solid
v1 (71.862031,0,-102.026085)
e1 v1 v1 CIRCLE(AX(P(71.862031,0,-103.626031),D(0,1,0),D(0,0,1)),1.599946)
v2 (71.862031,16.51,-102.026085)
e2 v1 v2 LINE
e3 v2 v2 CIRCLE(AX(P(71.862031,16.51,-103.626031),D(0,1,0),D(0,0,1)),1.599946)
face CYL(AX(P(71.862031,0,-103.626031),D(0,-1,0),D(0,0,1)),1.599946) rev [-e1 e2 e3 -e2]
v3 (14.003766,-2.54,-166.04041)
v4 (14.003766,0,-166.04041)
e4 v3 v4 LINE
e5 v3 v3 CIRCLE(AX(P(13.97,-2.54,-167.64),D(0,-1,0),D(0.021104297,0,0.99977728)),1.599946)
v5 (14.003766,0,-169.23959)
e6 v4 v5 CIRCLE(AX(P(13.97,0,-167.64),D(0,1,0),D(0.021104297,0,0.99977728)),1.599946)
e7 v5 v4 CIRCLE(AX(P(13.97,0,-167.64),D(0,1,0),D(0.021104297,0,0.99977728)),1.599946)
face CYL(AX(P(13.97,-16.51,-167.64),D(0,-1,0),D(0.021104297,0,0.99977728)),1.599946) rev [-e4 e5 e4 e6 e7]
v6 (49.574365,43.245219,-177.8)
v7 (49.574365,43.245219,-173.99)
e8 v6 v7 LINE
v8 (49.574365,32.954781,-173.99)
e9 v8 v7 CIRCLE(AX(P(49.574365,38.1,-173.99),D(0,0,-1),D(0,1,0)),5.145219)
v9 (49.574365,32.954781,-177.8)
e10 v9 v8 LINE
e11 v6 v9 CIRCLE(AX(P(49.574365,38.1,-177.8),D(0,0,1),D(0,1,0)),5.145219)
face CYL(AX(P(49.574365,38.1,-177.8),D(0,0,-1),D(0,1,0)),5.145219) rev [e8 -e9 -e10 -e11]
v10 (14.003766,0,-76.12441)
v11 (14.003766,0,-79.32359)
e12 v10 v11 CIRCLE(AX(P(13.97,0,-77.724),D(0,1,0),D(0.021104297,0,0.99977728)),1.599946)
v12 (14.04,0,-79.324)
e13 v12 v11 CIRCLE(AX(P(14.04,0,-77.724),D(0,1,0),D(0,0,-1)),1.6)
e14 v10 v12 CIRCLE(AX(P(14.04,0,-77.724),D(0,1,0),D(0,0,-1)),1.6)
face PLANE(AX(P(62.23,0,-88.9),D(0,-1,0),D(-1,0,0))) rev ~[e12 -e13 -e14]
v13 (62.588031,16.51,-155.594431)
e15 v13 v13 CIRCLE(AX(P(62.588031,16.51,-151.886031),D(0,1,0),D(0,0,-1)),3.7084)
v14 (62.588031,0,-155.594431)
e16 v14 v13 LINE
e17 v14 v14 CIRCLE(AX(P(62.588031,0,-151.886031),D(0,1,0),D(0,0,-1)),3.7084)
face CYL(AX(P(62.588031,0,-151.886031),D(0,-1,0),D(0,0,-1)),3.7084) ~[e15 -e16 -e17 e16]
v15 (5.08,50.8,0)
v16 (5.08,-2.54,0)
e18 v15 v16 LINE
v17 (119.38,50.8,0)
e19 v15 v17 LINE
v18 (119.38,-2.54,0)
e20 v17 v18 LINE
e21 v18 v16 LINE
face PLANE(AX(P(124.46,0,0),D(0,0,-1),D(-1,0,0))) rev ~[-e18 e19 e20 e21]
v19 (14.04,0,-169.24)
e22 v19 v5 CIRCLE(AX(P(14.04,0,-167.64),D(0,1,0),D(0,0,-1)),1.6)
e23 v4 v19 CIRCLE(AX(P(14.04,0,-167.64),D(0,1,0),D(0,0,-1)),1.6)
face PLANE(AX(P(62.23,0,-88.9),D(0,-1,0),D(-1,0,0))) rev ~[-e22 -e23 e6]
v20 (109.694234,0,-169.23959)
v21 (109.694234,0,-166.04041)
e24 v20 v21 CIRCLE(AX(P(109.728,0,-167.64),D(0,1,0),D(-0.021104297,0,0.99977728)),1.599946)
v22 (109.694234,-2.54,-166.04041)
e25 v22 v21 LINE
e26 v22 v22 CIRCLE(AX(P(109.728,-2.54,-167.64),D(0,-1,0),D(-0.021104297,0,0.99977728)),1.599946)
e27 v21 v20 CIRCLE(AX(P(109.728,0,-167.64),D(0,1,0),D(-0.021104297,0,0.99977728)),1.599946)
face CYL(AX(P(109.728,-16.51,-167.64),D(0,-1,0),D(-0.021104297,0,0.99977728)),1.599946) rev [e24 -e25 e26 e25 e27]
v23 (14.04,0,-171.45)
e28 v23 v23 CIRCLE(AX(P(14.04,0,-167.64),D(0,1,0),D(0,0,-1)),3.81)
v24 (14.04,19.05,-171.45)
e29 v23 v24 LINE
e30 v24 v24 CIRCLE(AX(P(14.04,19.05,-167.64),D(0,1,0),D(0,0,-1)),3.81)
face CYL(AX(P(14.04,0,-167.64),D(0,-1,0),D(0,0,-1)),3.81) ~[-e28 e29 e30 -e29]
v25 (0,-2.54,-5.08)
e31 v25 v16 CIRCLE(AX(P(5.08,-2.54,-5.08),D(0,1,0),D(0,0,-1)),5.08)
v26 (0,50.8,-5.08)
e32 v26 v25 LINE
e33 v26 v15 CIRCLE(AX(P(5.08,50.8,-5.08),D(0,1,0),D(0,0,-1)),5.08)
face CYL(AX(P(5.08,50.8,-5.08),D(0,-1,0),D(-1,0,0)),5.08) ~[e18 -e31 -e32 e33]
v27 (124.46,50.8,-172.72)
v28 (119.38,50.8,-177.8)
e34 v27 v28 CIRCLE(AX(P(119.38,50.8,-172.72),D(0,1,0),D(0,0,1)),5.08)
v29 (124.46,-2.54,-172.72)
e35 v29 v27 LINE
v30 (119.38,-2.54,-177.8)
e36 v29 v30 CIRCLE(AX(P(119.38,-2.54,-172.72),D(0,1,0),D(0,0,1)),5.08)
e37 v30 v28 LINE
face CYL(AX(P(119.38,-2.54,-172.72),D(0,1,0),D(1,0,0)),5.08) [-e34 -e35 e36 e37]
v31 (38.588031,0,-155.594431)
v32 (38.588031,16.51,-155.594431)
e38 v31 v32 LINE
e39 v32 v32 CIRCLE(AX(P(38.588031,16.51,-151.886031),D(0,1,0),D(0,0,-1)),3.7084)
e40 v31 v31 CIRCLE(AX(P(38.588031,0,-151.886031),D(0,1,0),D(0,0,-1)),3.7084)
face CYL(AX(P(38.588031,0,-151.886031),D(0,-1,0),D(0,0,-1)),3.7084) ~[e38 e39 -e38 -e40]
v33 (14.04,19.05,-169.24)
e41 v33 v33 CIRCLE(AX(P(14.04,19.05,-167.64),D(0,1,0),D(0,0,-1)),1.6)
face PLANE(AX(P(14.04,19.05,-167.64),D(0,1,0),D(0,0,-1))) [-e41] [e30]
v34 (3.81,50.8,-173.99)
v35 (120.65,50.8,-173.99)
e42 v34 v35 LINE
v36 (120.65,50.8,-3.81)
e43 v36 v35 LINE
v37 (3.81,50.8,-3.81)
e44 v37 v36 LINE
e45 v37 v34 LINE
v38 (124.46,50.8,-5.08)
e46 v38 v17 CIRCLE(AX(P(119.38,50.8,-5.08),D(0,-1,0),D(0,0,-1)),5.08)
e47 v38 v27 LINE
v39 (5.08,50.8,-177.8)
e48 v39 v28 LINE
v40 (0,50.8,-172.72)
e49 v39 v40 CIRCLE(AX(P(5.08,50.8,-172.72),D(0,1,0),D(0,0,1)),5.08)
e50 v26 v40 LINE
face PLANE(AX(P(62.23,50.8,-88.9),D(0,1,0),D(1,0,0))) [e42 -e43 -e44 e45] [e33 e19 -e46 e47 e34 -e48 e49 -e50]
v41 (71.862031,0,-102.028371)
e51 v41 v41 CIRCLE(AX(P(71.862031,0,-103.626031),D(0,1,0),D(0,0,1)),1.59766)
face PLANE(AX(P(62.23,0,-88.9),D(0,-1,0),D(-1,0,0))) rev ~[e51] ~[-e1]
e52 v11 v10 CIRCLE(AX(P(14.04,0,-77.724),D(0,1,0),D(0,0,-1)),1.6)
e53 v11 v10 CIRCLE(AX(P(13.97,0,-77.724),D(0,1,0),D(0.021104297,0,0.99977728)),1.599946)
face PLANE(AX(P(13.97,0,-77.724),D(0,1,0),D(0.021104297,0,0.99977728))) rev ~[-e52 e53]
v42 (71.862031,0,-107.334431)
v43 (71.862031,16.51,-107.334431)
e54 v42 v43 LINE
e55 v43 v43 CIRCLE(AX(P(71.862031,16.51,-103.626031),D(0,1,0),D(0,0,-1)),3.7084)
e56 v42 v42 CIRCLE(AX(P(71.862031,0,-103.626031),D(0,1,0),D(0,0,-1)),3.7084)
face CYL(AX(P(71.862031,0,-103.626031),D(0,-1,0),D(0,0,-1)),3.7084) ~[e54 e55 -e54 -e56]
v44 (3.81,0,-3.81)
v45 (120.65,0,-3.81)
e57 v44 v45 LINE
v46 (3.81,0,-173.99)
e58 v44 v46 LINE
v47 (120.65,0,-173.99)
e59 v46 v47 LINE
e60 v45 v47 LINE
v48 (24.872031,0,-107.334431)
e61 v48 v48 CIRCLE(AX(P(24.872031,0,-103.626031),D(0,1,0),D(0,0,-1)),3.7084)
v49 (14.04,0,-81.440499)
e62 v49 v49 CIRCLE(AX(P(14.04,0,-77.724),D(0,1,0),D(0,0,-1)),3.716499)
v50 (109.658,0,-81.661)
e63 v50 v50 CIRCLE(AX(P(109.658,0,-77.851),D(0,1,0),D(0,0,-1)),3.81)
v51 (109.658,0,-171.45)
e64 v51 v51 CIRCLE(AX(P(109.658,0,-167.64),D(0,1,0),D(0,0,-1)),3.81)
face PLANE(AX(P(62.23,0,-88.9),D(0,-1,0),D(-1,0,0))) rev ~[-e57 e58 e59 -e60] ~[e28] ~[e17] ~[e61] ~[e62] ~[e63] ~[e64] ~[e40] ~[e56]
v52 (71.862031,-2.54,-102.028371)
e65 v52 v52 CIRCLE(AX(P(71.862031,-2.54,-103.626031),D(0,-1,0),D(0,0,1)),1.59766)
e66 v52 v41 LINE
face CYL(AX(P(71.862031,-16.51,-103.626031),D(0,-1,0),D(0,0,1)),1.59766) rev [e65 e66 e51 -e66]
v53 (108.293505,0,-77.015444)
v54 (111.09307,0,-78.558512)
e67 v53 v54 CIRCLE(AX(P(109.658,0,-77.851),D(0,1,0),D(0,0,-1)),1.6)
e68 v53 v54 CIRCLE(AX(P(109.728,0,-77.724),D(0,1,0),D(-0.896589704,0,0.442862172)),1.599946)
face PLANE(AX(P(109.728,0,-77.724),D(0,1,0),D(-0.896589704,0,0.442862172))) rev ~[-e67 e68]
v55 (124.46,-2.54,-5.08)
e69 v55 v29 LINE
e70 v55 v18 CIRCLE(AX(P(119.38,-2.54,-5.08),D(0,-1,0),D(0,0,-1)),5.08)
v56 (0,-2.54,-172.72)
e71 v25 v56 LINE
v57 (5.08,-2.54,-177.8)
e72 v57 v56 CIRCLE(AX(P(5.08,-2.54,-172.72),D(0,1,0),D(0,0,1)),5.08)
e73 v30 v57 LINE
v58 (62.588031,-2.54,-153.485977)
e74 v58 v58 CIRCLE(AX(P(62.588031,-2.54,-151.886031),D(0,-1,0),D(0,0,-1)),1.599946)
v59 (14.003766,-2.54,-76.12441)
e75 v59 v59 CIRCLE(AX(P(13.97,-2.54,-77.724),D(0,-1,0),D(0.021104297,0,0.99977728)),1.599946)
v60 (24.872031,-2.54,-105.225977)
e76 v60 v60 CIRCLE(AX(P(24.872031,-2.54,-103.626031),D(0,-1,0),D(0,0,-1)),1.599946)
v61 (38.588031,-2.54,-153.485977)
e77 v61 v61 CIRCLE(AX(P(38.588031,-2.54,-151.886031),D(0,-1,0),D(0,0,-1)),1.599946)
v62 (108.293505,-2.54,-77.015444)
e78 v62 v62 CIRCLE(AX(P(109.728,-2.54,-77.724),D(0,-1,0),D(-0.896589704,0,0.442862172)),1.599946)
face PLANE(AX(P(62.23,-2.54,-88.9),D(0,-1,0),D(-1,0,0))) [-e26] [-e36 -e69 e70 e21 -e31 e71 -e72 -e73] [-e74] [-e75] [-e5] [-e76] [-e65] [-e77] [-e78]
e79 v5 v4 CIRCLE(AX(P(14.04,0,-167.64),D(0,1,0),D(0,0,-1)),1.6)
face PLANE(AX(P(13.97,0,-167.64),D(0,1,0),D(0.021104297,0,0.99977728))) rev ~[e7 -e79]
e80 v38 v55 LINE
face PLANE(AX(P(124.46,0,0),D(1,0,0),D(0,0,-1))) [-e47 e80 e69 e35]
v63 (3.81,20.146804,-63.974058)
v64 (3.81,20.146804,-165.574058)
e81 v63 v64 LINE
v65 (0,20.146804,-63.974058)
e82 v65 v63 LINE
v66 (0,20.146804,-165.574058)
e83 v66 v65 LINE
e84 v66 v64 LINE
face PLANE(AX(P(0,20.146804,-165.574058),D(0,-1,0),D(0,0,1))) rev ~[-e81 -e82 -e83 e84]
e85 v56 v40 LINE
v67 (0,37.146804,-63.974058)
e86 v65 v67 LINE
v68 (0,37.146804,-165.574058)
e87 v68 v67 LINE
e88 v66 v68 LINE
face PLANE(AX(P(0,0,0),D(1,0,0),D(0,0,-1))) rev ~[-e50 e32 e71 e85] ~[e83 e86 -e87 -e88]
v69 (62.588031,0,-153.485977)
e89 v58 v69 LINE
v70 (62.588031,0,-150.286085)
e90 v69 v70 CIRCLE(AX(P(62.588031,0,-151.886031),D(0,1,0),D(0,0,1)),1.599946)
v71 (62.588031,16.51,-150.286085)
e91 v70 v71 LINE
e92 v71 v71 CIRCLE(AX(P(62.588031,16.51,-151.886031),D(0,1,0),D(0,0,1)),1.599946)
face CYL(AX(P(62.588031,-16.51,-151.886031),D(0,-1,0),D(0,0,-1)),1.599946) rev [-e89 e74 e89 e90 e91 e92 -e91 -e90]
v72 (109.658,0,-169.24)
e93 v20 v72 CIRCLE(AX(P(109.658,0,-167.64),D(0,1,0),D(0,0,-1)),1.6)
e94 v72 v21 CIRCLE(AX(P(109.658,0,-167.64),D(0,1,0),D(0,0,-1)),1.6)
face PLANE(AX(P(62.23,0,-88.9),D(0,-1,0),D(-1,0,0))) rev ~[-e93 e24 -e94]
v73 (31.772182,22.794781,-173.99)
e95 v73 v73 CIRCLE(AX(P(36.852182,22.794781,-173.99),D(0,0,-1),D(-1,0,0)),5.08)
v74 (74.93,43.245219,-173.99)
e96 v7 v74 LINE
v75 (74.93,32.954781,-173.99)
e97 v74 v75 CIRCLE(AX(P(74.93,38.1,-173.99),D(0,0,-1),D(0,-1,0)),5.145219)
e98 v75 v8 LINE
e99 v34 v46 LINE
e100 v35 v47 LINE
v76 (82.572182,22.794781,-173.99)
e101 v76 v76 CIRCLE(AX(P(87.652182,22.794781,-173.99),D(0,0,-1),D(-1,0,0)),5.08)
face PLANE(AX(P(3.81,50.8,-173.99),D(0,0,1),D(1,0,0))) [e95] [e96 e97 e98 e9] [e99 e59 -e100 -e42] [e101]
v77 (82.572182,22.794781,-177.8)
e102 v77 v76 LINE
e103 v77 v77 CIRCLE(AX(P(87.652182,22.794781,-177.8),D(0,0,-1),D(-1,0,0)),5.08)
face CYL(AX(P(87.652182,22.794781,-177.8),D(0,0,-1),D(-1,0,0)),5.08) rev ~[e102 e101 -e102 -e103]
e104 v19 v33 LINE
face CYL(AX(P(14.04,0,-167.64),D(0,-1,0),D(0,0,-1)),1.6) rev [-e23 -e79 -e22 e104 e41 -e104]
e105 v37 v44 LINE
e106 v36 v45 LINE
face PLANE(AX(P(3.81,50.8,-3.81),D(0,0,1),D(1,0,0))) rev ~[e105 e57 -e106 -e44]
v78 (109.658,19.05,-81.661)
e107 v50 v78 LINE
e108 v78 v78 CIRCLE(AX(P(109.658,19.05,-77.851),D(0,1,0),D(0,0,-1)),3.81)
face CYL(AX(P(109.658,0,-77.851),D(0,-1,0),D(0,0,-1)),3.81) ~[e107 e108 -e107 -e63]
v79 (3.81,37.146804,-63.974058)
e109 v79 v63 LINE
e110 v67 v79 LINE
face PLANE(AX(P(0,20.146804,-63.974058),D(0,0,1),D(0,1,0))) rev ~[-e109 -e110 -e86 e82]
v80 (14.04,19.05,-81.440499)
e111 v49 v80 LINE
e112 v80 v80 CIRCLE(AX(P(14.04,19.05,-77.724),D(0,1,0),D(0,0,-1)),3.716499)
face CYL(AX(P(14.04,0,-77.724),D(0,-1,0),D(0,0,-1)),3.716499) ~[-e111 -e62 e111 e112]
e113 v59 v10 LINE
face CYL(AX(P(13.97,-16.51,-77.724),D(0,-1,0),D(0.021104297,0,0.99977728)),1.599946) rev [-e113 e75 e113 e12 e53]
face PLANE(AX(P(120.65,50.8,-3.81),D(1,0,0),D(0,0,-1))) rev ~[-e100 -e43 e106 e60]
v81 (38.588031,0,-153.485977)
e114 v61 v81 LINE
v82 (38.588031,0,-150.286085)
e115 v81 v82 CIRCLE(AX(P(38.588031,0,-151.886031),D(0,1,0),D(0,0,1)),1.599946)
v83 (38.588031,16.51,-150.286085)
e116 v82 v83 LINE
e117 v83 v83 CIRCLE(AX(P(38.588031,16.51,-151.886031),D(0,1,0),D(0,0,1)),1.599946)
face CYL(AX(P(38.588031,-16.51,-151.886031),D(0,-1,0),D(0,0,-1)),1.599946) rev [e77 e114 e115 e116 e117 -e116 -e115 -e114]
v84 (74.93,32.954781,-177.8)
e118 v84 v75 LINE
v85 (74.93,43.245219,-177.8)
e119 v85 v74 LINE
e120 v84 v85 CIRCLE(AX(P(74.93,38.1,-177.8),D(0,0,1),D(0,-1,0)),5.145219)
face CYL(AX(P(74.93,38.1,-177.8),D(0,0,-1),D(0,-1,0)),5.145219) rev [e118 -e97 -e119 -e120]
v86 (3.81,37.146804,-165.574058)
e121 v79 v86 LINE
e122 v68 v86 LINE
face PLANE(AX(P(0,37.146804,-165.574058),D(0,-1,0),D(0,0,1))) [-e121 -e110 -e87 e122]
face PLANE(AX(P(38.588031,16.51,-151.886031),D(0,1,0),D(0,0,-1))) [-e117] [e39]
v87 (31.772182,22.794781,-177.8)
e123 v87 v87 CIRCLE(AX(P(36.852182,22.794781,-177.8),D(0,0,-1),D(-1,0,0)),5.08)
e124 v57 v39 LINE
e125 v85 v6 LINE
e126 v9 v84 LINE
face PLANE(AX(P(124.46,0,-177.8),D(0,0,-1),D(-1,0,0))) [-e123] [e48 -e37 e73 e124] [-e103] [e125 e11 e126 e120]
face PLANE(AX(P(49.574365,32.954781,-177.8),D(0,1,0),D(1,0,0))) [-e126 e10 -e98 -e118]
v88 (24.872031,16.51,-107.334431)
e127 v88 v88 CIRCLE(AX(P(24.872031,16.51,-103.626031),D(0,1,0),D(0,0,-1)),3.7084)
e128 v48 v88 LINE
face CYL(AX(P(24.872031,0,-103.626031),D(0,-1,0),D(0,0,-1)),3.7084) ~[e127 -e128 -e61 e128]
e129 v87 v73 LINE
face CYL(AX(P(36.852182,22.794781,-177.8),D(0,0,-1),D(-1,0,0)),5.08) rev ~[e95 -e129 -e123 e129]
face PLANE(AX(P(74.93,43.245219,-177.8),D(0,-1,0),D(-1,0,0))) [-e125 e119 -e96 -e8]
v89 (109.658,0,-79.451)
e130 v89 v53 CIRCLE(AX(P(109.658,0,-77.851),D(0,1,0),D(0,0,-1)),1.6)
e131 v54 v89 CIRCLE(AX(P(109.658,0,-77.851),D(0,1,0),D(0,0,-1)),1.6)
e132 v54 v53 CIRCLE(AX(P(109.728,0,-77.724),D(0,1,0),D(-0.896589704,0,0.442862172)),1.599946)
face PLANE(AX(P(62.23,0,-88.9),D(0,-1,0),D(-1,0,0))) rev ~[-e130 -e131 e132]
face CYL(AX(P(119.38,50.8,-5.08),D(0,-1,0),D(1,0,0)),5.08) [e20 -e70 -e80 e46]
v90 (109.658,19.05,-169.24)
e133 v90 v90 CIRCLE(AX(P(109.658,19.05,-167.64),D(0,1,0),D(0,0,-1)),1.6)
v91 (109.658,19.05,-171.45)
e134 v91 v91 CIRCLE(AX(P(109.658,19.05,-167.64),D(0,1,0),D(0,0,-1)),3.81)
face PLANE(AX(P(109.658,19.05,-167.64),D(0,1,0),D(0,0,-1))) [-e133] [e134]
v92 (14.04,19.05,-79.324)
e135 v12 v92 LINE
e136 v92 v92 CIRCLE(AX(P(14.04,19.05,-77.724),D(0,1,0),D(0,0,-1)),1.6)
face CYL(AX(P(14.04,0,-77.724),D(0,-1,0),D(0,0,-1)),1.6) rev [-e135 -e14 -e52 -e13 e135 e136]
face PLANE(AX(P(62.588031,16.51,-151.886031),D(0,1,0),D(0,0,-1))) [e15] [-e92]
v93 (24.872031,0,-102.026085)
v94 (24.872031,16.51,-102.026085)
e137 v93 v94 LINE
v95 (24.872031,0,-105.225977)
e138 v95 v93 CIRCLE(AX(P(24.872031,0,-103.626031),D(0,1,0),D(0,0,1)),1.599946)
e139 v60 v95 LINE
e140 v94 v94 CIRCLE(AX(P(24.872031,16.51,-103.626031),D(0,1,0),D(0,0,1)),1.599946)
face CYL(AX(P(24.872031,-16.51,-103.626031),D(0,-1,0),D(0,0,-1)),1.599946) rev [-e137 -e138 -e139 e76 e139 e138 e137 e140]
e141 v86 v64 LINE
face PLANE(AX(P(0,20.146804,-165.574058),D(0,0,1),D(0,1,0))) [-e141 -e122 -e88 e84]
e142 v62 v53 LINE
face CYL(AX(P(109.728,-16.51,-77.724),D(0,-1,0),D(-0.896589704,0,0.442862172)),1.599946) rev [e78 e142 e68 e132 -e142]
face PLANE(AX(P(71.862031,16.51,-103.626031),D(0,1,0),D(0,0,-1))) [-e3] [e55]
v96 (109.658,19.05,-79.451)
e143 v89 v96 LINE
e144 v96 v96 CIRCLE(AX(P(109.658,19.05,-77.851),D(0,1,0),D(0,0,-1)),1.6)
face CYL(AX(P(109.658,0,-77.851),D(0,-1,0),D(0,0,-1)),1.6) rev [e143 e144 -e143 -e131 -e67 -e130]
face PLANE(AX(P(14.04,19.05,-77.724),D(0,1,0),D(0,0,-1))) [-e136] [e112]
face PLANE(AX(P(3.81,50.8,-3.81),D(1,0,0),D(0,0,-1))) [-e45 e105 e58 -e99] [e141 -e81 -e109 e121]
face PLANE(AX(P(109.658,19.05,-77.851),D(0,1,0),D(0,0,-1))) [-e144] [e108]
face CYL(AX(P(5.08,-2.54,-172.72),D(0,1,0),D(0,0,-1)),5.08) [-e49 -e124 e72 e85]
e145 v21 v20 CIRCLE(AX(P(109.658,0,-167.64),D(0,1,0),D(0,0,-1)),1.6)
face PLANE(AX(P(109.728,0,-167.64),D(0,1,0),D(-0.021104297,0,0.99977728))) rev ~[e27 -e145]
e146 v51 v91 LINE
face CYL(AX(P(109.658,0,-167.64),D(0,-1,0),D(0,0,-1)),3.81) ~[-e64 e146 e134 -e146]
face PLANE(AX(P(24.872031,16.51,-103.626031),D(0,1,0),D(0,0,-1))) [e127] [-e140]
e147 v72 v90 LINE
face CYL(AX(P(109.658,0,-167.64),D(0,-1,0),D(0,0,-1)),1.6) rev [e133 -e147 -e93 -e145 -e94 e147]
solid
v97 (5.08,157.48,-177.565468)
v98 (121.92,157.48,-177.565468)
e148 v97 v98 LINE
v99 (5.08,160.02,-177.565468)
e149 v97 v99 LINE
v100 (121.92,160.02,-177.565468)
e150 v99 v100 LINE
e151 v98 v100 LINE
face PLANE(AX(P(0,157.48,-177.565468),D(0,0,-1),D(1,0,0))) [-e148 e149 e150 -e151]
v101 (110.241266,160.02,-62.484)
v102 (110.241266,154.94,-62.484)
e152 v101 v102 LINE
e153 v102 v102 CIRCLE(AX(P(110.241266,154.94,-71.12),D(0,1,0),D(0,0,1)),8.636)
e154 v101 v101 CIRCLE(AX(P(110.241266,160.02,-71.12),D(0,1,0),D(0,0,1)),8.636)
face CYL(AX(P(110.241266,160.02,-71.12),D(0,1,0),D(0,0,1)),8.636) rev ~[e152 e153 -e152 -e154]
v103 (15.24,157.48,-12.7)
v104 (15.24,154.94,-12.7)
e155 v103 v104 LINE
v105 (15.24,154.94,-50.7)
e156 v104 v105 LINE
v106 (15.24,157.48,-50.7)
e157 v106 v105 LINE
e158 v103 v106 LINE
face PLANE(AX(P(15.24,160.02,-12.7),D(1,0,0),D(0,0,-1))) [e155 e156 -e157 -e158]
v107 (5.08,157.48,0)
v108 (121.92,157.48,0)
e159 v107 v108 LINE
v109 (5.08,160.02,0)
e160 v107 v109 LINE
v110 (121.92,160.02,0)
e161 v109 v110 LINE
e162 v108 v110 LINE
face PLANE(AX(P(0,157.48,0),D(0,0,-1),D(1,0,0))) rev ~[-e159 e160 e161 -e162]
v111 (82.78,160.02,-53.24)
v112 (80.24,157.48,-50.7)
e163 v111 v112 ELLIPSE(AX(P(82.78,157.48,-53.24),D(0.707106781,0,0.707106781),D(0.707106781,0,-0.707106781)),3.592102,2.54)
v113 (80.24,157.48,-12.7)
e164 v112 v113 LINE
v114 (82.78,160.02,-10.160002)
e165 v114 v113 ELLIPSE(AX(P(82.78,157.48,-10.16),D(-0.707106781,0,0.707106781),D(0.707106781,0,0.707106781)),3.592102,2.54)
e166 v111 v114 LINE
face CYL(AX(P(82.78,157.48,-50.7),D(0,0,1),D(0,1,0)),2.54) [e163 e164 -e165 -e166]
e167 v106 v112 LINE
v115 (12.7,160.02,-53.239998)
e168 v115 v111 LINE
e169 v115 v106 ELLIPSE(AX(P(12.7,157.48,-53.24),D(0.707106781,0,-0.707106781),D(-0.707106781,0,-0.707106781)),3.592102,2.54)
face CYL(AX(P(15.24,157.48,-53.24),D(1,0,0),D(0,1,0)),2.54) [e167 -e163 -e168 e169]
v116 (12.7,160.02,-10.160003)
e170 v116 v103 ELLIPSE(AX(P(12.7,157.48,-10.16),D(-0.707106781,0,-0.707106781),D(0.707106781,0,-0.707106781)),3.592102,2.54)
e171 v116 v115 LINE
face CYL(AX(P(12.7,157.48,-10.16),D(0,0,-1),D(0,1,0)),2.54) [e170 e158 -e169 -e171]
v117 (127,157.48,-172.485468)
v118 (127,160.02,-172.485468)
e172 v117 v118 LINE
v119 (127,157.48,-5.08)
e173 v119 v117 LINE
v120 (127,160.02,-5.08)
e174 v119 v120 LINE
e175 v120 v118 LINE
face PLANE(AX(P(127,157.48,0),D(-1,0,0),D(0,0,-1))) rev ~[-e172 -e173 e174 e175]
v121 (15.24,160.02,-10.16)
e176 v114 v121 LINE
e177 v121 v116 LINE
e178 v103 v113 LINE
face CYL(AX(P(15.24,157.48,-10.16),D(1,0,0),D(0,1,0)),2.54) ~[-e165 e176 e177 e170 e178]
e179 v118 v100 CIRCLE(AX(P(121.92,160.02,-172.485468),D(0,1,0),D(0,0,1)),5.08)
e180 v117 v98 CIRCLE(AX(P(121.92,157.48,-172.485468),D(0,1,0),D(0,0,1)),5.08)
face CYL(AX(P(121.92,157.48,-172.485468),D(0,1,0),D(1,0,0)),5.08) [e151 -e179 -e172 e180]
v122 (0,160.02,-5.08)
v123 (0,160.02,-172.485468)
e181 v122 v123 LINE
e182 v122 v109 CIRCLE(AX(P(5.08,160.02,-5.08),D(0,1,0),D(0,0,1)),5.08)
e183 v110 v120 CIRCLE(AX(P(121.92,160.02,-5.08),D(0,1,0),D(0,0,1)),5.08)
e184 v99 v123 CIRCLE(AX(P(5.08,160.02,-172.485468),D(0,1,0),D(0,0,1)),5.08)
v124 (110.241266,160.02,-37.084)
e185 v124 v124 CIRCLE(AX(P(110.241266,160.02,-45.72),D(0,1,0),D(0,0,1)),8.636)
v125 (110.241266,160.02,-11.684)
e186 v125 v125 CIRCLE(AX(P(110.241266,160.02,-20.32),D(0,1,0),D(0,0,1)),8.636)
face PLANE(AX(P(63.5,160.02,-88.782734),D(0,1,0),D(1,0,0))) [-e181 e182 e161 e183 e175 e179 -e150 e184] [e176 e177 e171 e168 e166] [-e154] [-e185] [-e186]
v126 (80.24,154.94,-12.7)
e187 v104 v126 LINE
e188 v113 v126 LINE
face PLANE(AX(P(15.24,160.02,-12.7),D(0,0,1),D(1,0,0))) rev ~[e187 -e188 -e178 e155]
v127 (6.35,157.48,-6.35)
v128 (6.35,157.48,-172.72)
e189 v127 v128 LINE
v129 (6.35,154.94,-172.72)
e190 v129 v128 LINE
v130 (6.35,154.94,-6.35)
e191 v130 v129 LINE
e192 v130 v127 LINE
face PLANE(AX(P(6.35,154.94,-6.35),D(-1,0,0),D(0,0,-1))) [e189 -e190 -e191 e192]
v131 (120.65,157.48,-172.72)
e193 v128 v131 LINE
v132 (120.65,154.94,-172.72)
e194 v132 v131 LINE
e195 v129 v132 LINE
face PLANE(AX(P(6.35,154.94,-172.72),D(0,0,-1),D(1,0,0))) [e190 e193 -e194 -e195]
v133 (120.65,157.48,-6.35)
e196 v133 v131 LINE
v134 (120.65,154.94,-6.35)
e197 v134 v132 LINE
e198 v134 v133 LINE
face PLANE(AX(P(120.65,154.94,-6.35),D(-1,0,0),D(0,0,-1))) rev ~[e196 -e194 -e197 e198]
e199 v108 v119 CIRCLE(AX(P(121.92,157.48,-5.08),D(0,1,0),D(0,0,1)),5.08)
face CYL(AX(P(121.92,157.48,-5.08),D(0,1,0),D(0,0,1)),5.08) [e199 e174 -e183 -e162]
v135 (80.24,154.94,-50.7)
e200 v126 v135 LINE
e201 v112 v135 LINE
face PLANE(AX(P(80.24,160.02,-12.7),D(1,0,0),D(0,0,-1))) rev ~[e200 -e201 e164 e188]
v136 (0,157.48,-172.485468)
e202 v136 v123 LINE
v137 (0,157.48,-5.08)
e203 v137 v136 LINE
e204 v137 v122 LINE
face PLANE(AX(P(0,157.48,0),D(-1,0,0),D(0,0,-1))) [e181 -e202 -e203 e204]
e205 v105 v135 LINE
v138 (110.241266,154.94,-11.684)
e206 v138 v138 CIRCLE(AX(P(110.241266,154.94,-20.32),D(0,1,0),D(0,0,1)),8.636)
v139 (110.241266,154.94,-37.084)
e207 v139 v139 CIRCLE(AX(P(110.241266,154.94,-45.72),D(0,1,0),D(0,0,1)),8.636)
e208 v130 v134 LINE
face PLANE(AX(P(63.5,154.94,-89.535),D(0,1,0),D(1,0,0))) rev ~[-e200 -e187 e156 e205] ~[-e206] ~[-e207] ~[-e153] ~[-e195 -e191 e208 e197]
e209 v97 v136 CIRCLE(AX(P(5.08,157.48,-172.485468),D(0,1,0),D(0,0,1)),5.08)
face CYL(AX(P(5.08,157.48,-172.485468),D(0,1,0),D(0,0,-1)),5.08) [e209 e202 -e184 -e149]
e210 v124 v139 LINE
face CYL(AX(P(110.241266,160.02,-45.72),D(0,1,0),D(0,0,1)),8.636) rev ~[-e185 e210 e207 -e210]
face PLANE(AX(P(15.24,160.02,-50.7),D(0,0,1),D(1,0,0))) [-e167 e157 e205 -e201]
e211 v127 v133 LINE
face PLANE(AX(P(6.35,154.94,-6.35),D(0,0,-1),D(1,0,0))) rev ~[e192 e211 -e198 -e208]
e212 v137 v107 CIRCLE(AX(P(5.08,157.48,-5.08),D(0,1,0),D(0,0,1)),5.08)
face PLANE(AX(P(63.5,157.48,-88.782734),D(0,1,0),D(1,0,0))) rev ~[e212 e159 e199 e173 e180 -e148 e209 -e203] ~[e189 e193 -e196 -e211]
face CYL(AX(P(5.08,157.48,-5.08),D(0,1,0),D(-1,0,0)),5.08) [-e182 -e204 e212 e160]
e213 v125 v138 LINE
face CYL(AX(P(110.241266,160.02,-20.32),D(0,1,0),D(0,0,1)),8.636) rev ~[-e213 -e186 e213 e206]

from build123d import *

# Parameters (mm, degrees)
SKETCH1_W            = 124.46
SKETCH1_H            = 177.8
BOSS_EXTRUDE1_DEPTH  = 50.8
SKETCH2_W            = 116.84
SKETCH2_H            = 170.18
CUT_EXTRUDE1_DEPTH   = 50.8
SKETCH4_W            = 124.46
SKETCH4_H            = 177.8
BOSS_EXTRUDE2_DEPTH  = 2.54
SKETCH5_W            = 114.3
SKETCH5_H            = 166.37
BOSS_EXTRUDE3_DEPTH  = 2.54
SKETCH6_W            = 127
SKETCH6_H            = 177.565468033
BOSS_EXTRUDE4_DEPTH  = 2.54
SKETCH7_R            = 8.636
SKETCH7_W            = 65
SKETCH7_H            = 38
CUT_EXTRUDE2_DEPTH   = 7.62
FILLET1_R            = 5.08
FILLET2_R            = 5.08
FILLET3_R            = 5.08
FILLET4_R            = 5.08
FILLET5_R            = 5.08
FILLET6_R            = 5.08
FILLET7_R            = 5.08
FILLET8_R            = 5.08
CUT_EXTRUDE3_DEPTH   = 10.16
SKETCH10_W           = 101.6
SKETCH10_H           = 17
CUT_EXTRUDE5_DEPTH   = 10.16
FILLET9_R            = 2.54
FILLET10_R           = 2.54
FILLET11_R           = 2.54
FILLET12_R           = 2.54
SKETCH12_R           = 3.716498952
SKETCH12_R_2         = 1.6
SKETCH12_R_3         = 3.81
BOSS_EXTRUDE9_DEPTH  = 19.05
SKETCH31_R           = 3.7084
SKETCH31_R_2         = 1.599946
BOSS_EXTRUDE10_DEPTH = 16.51
CUT_EXTRUDE13_START  = -16.51
SKETCH33_R           = 1.599946
SKETCH33_R_2         = 1.59766
CUT_EXTRUDE13_DEPTH  = 16.51
SKETCH35_R           = 5.08
CUT_EXTRUDE14_DEPTH  = 16.51


with BuildPart() as part:
    # Sketch1 → Boss-Extrude1 (new body)
    with BuildSketch(Plane(origin=(0, 0, 0), x_dir=(1, 0, 0), z_dir=(0, 1, 0))):
        with Locations((62.23, 88.9)):
            Rectangle(SKETCH1_W, SKETCH1_H)
    extrude(amount=BOSS_EXTRUDE1_DEPTH)

    # Sketch2 → Cut-Extrude1 (cut)
    with BuildSketch(Plane(origin=(0, 50.8, 0), x_dir=(1, 0, 0), z_dir=(0, 1, 0))):
        with Locations((62.23, 88.9)):
            Rectangle(SKETCH2_W, SKETCH2_H)
    extrude(amount=-CUT_EXTRUDE1_DEPTH, mode=Mode.SUBTRACT)

    # Sketch4 → Boss-Extrude2 (add)
    with BuildSketch(Plane(origin=(0, 0, 0), x_dir=(-1, 0, 0), z_dir=(0, -1, 0))):
        with Locations((-62.23, 88.9)):
            Rectangle(SKETCH4_W, SKETCH4_H)
    extrude(amount=BOSS_EXTRUDE2_DEPTH)

    # Fillet1
    fillet1_edges = [part.edges().sort_by_distance(p)[0] for p in [
        (124.46, 24.13, 0),
    ]]
    fillet(fillet1_edges, radius=FILLET1_R)

    # Fillet3
    fillet3_edges = [part.edges().sort_by_distance(p)[0] for p in [
        (124.46, 24.13, -177.8),
    ]]
    fillet(fillet3_edges, radius=FILLET3_R)

    # Fillet4
    fillet4_edges = [part.edges().sort_by_distance(p)[0] for p in [
        (0, 24.13, -177.8),
    ]]
    fillet(fillet4_edges, radius=FILLET4_R)

    # Fillet5
    fillet5_edges = [part.edges().sort_by_distance(p)[0] for p in [
        (0, 24.13, 0),
    ]]
    fillet(fillet5_edges, radius=FILLET5_R)

    # Sketch9 → Cut-Extrude3 (cut)
    with BuildSketch(Plane(origin=(0, 0, -177.8), x_dir=(-1, 0, 0), z_dir=(0, 0, -1))):
        with BuildLine():
            Line((-49.574364587, 32.954781393), (-74.93, 32.954781393))
            ThreePointArc((-74.93, 32.954781393), (-80.075218607, 38.1), (-74.93, 43.245218607))
            Line((-74.93, 43.245218607), (-49.574364587, 43.245218607))
            ThreePointArc((-49.574364587, 43.245218607), (-44.42914598, 38.1), (-49.574364587, 32.954781393))
        make_face()
    extrude(amount=-CUT_EXTRUDE3_DEPTH, mode=Mode.SUBTRACT)

    # Sketch10 → Cut-Extrude5 (cut)
    with BuildSketch(Plane.ZY):
        with Locations((-114.774057785, 28.646804291)):
            Rectangle(SKETCH10_W, SKETCH10_H)
    extrude(amount=-CUT_EXTRUDE5_DEPTH, mode=Mode.SUBTRACT)

    # Sketch12 → Boss-Extrude9 (add)
    # profile 1 of 4: a face of its own
    with BuildSketch(Plane(origin=(0, 0, 0), x_dir=(1, 0, 0), z_dir=(0, 1, 0))):
        with Locations(Location((14.04, 77.724, 0), (0, 0, 90))):
            Circle(SKETCH12_R)
        with Locations(Location((14.04, 77.724, 0), (0, 0, 90))):
            Circle(SKETCH12_R_2, mode=Mode.SUBTRACT)
    # profile 2 of 4: a face of its own
    with BuildSketch(Plane(origin=(0, 0, 0), x_dir=(1, 0, 0), z_dir=(0, 1, 0))):
        with Locations(Location((109.658, 77.851, 0), (0, 0, 90))):
            Circle(SKETCH12_R_3)
        with Locations(Location((109.658, 77.851, 0), (0, 0, 90))):
            Circle(SKETCH12_R_2, mode=Mode.SUBTRACT)
    # profile 3 of 4: a face of its own
    with BuildSketch(Plane(origin=(0, 0, 0), x_dir=(1, 0, 0), z_dir=(0, 1, 0))):
        with Locations(Location((109.658, 167.64, 0), (0, 0, 90))):
            Circle(SKETCH12_R_3)
        with Locations(Location((109.658, 167.64, 0), (0, 0, 90))):
            Circle(SKETCH12_R_2, mode=Mode.SUBTRACT)
    # profile 4 of 4: a face of its own
    with BuildSketch(Plane(origin=(0, 0, 0), x_dir=(1, 0, 0), z_dir=(0, 1, 0))):
        with Locations(Location((14.04, 167.64, 0), (0, 0, 90))):
            Circle(SKETCH12_R_3)
        with Locations(Location((14.04, 167.64, 0), (0, 0, 90))):
            Circle(SKETCH12_R_2, mode=Mode.SUBTRACT)
    extrude(amount=BOSS_EXTRUDE9_DEPTH)

    # Sketch31 → Boss-Extrude10 (add)
    # profile 1 of 4: a face of its own
    with BuildSketch(Plane(origin=(0, 0, 0), x_dir=(1, 0, 0), z_dir=(0, 1, 0))):
        with Locations(Location((24.872030931, 103.626030931, 0), (0, 0, 90))):
            Circle(SKETCH31_R)
        with Locations(Location((24.872030931, 103.626030931, 0), (0, 0, 270))):
            Circle(SKETCH31_R_2, mode=Mode.SUBTRACT)
    # profile 2 of 4: a face of its own
    with BuildSketch(Plane(origin=(0, 0, 0), x_dir=(1, 0, 0), z_dir=(0, 1, 0))):
        with Locations(Location((71.862030931, 103.626030931, 0), (0, 0, 90))):
            Circle(SKETCH31_R)
        with Locations(Location((71.862030931, 103.626030931, 0), (0, 0, 270))):
            Circle(SKETCH31_R_2, mode=Mode.SUBTRACT)
    # profile 3 of 4: a face of its own
    with BuildSketch(Plane(origin=(0, 0, 0), x_dir=(1, 0, 0), z_dir=(0, 1, 0))):
        with Locations(Location((38.588030931, 151.886030931, 0), (0, 0, 90))):
            Circle(SKETCH31_R)
        with Locations(Location((38.588030931, 151.886030931, 0), (0, 0, 270))):
            Circle(SKETCH31_R_2, mode=Mode.SUBTRACT)
    # profile 4 of 4: a face of its own
    with BuildSketch(Plane(origin=(0, 0, 0), x_dir=(1, 0, 0), z_dir=(0, 1, 0))):
        with Locations(Location((62.588030931, 151.886030931, 0), (0, 0, 90))):
            Circle(SKETCH31_R)
        with Locations(Location((62.588030931, 151.886030931, 0), (0, 0, 270))):
            Circle(SKETCH31_R_2, mode=Mode.SUBTRACT)
    extrude(amount=BOSS_EXTRUDE10_DEPTH)

    # Sketch33 → Cut-Extrude13 (cut)
    with BuildSketch(Plane(origin=(0, 0, 0), x_dir=(1, 0, 0), z_dir=(0, 1, 0)).offset(CUT_EXTRUDE13_START)):
        with Locations(Location((109.728, 77.724, 0), (0, 0, 206.286642075))):
            Circle(SKETCH33_R)
        with Locations(Location((13.97, 77.724, 0), (0, 0, 271.20927691))):
            Circle(SKETCH33_R)
        with Locations(Location((71.862030931, 103.626030931, 0), (0, 0, 270))):
            Circle(SKETCH33_R_2)
        with Locations(Location((24.872030931, 103.626030931, 0), (0, 0, 90))):
            Circle(SKETCH33_R)
        with Locations(Location((62.588030931, 151.886030931, 0), (0, 0, 90))):
            Circle(SKETCH33_R)
        with Locations(Location((38.588030931, 151.886030931, 0), (0, 0, 90))):
            Circle(SKETCH33_R)
        with Locations(Location((109.728, 167.64, 0), (0, 0, 268.79072309))):
            Circle(SKETCH33_R)
        with Locations(Location((13.97, 167.64, 0), (0, 0, 271.20927691))):
            Circle(SKETCH33_R)
    extrude(amount=CUT_EXTRUDE13_DEPTH, mode=Mode.SUBTRACT)

    # Sketch35 → Cut-Extrude14 (cut)
    with BuildSketch(Plane(origin=(0, 0, -177.8), x_dir=(-1, 0, 0), z_dir=(0, 0, -1))):
        with Locations((-87.652182294, 22.794781393)):
            Circle(SKETCH35_R)
        with Locations((-36.852182294, 22.794781393)):
            Circle(SKETCH35_R)
    extrude(amount=-CUT_EXTRUDE14_DEPTH, mode=Mode.SUBTRACT)


with BuildPart() as body_2:
    # Sketch5 → Boss-Extrude3 (new body)
    with BuildSketch(Plane(origin=(0, 154.94, 0), x_dir=(1, 0, 0), z_dir=(0, 1, 0))):
        with Locations((63.5, 89.535)):
            Rectangle(SKETCH5_W, SKETCH5_H)
    extrude(amount=BOSS_EXTRUDE3_DEPTH)

    # Sketch6 → Boss-Extrude4 (add)
    with BuildSketch(Plane(origin=(0, 157.48, 0), x_dir=(1, 0, 0), z_dir=(0, 1, 0))):
        with Locations((63.5, 88.782734017)):
            Rectangle(SKETCH6_W, SKETCH6_H)
    extrude(amount=BOSS_EXTRUDE4_DEPTH)

    # Sketch7 → Cut-Extrude2 (cut)
    with BuildSketch(Plane(origin=(0, 160.02, 0), x_dir=(1, 0, 0), z_dir=(0, 1, 0))):
        with Locations(Location((110.241265821, 20.32, 0), (0, 0, 270))):
            Circle(SKETCH7_R)
        with Locations(Location((110.241265821, 45.72, 0), (0, 0, 270))):
            Circle(SKETCH7_R)
        with Locations(Location((110.241265821, 71.12, 0), (0, 0, 270))):
            Circle(SKETCH7_R)
        with Locations((47.74, 31.7)):
            Rectangle(SKETCH7_W, SKETCH7_H)
    extrude(amount=-CUT_EXTRUDE2_DEPTH, mode=Mode.SUBTRACT)

    # Fillet2
    fillet2_edges = [body_2.edges().sort_by_distance(p)[0] for p in [
        (127, 158.75, 0),
    ]]
    fillet(fillet2_edges, radius=FILLET2_R)

    # Fillet6
    fillet6_edges = [body_2.edges().sort_by_distance(p)[0] for p in [
        (127, 158.75, -177.565468033),
    ]]
    fillet(fillet6_edges, radius=FILLET6_R)

    # Fillet7
    fillet7_edges = [body_2.edges().sort_by_distance(p)[0] for p in [
        (0, 158.75, -177.565468033),
    ]]
    fillet(fillet7_edges, radius=FILLET7_R)

    # Fillet8
    fillet8_edges = [body_2.edges().sort_by_distance(p)[0] for p in [
        (0, 158.75, 0),
    ]]
    fillet(fillet8_edges, radius=FILLET8_R)

    # Fillet9
    fillet9_edges = [body_2.edges().sort_by_distance(p)[0] for p in [
        (47.74, 160.02, -12.7),
    ]]
    fillet(fillet9_edges, radius=FILLET9_R)

    # Fillet10
    fillet10_edges = [body_2.edges().sort_by_distance(p)[0] for p in [
        (80.24, 160.02, -30.43),
    ]]
    fillet(fillet10_edges, radius=FILLET10_R)

    # Fillet11
    fillet11_edges = [body_2.edges().sort_by_distance(p)[0] for p in [
        (49.01, 160.02, -50.7),
    ]]
    fillet(fillet11_edges, radius=FILLET11_R)

    # Fillet12
    fillet12_edges = [body_2.edges().sort_by_distance(p)[0] for p in [
        (15.24, 160.02, -31.7),
    ]]
    fillet(fillet12_edges, radius=FILLET12_R)


solid = Compound([part.part, body_2.part])
